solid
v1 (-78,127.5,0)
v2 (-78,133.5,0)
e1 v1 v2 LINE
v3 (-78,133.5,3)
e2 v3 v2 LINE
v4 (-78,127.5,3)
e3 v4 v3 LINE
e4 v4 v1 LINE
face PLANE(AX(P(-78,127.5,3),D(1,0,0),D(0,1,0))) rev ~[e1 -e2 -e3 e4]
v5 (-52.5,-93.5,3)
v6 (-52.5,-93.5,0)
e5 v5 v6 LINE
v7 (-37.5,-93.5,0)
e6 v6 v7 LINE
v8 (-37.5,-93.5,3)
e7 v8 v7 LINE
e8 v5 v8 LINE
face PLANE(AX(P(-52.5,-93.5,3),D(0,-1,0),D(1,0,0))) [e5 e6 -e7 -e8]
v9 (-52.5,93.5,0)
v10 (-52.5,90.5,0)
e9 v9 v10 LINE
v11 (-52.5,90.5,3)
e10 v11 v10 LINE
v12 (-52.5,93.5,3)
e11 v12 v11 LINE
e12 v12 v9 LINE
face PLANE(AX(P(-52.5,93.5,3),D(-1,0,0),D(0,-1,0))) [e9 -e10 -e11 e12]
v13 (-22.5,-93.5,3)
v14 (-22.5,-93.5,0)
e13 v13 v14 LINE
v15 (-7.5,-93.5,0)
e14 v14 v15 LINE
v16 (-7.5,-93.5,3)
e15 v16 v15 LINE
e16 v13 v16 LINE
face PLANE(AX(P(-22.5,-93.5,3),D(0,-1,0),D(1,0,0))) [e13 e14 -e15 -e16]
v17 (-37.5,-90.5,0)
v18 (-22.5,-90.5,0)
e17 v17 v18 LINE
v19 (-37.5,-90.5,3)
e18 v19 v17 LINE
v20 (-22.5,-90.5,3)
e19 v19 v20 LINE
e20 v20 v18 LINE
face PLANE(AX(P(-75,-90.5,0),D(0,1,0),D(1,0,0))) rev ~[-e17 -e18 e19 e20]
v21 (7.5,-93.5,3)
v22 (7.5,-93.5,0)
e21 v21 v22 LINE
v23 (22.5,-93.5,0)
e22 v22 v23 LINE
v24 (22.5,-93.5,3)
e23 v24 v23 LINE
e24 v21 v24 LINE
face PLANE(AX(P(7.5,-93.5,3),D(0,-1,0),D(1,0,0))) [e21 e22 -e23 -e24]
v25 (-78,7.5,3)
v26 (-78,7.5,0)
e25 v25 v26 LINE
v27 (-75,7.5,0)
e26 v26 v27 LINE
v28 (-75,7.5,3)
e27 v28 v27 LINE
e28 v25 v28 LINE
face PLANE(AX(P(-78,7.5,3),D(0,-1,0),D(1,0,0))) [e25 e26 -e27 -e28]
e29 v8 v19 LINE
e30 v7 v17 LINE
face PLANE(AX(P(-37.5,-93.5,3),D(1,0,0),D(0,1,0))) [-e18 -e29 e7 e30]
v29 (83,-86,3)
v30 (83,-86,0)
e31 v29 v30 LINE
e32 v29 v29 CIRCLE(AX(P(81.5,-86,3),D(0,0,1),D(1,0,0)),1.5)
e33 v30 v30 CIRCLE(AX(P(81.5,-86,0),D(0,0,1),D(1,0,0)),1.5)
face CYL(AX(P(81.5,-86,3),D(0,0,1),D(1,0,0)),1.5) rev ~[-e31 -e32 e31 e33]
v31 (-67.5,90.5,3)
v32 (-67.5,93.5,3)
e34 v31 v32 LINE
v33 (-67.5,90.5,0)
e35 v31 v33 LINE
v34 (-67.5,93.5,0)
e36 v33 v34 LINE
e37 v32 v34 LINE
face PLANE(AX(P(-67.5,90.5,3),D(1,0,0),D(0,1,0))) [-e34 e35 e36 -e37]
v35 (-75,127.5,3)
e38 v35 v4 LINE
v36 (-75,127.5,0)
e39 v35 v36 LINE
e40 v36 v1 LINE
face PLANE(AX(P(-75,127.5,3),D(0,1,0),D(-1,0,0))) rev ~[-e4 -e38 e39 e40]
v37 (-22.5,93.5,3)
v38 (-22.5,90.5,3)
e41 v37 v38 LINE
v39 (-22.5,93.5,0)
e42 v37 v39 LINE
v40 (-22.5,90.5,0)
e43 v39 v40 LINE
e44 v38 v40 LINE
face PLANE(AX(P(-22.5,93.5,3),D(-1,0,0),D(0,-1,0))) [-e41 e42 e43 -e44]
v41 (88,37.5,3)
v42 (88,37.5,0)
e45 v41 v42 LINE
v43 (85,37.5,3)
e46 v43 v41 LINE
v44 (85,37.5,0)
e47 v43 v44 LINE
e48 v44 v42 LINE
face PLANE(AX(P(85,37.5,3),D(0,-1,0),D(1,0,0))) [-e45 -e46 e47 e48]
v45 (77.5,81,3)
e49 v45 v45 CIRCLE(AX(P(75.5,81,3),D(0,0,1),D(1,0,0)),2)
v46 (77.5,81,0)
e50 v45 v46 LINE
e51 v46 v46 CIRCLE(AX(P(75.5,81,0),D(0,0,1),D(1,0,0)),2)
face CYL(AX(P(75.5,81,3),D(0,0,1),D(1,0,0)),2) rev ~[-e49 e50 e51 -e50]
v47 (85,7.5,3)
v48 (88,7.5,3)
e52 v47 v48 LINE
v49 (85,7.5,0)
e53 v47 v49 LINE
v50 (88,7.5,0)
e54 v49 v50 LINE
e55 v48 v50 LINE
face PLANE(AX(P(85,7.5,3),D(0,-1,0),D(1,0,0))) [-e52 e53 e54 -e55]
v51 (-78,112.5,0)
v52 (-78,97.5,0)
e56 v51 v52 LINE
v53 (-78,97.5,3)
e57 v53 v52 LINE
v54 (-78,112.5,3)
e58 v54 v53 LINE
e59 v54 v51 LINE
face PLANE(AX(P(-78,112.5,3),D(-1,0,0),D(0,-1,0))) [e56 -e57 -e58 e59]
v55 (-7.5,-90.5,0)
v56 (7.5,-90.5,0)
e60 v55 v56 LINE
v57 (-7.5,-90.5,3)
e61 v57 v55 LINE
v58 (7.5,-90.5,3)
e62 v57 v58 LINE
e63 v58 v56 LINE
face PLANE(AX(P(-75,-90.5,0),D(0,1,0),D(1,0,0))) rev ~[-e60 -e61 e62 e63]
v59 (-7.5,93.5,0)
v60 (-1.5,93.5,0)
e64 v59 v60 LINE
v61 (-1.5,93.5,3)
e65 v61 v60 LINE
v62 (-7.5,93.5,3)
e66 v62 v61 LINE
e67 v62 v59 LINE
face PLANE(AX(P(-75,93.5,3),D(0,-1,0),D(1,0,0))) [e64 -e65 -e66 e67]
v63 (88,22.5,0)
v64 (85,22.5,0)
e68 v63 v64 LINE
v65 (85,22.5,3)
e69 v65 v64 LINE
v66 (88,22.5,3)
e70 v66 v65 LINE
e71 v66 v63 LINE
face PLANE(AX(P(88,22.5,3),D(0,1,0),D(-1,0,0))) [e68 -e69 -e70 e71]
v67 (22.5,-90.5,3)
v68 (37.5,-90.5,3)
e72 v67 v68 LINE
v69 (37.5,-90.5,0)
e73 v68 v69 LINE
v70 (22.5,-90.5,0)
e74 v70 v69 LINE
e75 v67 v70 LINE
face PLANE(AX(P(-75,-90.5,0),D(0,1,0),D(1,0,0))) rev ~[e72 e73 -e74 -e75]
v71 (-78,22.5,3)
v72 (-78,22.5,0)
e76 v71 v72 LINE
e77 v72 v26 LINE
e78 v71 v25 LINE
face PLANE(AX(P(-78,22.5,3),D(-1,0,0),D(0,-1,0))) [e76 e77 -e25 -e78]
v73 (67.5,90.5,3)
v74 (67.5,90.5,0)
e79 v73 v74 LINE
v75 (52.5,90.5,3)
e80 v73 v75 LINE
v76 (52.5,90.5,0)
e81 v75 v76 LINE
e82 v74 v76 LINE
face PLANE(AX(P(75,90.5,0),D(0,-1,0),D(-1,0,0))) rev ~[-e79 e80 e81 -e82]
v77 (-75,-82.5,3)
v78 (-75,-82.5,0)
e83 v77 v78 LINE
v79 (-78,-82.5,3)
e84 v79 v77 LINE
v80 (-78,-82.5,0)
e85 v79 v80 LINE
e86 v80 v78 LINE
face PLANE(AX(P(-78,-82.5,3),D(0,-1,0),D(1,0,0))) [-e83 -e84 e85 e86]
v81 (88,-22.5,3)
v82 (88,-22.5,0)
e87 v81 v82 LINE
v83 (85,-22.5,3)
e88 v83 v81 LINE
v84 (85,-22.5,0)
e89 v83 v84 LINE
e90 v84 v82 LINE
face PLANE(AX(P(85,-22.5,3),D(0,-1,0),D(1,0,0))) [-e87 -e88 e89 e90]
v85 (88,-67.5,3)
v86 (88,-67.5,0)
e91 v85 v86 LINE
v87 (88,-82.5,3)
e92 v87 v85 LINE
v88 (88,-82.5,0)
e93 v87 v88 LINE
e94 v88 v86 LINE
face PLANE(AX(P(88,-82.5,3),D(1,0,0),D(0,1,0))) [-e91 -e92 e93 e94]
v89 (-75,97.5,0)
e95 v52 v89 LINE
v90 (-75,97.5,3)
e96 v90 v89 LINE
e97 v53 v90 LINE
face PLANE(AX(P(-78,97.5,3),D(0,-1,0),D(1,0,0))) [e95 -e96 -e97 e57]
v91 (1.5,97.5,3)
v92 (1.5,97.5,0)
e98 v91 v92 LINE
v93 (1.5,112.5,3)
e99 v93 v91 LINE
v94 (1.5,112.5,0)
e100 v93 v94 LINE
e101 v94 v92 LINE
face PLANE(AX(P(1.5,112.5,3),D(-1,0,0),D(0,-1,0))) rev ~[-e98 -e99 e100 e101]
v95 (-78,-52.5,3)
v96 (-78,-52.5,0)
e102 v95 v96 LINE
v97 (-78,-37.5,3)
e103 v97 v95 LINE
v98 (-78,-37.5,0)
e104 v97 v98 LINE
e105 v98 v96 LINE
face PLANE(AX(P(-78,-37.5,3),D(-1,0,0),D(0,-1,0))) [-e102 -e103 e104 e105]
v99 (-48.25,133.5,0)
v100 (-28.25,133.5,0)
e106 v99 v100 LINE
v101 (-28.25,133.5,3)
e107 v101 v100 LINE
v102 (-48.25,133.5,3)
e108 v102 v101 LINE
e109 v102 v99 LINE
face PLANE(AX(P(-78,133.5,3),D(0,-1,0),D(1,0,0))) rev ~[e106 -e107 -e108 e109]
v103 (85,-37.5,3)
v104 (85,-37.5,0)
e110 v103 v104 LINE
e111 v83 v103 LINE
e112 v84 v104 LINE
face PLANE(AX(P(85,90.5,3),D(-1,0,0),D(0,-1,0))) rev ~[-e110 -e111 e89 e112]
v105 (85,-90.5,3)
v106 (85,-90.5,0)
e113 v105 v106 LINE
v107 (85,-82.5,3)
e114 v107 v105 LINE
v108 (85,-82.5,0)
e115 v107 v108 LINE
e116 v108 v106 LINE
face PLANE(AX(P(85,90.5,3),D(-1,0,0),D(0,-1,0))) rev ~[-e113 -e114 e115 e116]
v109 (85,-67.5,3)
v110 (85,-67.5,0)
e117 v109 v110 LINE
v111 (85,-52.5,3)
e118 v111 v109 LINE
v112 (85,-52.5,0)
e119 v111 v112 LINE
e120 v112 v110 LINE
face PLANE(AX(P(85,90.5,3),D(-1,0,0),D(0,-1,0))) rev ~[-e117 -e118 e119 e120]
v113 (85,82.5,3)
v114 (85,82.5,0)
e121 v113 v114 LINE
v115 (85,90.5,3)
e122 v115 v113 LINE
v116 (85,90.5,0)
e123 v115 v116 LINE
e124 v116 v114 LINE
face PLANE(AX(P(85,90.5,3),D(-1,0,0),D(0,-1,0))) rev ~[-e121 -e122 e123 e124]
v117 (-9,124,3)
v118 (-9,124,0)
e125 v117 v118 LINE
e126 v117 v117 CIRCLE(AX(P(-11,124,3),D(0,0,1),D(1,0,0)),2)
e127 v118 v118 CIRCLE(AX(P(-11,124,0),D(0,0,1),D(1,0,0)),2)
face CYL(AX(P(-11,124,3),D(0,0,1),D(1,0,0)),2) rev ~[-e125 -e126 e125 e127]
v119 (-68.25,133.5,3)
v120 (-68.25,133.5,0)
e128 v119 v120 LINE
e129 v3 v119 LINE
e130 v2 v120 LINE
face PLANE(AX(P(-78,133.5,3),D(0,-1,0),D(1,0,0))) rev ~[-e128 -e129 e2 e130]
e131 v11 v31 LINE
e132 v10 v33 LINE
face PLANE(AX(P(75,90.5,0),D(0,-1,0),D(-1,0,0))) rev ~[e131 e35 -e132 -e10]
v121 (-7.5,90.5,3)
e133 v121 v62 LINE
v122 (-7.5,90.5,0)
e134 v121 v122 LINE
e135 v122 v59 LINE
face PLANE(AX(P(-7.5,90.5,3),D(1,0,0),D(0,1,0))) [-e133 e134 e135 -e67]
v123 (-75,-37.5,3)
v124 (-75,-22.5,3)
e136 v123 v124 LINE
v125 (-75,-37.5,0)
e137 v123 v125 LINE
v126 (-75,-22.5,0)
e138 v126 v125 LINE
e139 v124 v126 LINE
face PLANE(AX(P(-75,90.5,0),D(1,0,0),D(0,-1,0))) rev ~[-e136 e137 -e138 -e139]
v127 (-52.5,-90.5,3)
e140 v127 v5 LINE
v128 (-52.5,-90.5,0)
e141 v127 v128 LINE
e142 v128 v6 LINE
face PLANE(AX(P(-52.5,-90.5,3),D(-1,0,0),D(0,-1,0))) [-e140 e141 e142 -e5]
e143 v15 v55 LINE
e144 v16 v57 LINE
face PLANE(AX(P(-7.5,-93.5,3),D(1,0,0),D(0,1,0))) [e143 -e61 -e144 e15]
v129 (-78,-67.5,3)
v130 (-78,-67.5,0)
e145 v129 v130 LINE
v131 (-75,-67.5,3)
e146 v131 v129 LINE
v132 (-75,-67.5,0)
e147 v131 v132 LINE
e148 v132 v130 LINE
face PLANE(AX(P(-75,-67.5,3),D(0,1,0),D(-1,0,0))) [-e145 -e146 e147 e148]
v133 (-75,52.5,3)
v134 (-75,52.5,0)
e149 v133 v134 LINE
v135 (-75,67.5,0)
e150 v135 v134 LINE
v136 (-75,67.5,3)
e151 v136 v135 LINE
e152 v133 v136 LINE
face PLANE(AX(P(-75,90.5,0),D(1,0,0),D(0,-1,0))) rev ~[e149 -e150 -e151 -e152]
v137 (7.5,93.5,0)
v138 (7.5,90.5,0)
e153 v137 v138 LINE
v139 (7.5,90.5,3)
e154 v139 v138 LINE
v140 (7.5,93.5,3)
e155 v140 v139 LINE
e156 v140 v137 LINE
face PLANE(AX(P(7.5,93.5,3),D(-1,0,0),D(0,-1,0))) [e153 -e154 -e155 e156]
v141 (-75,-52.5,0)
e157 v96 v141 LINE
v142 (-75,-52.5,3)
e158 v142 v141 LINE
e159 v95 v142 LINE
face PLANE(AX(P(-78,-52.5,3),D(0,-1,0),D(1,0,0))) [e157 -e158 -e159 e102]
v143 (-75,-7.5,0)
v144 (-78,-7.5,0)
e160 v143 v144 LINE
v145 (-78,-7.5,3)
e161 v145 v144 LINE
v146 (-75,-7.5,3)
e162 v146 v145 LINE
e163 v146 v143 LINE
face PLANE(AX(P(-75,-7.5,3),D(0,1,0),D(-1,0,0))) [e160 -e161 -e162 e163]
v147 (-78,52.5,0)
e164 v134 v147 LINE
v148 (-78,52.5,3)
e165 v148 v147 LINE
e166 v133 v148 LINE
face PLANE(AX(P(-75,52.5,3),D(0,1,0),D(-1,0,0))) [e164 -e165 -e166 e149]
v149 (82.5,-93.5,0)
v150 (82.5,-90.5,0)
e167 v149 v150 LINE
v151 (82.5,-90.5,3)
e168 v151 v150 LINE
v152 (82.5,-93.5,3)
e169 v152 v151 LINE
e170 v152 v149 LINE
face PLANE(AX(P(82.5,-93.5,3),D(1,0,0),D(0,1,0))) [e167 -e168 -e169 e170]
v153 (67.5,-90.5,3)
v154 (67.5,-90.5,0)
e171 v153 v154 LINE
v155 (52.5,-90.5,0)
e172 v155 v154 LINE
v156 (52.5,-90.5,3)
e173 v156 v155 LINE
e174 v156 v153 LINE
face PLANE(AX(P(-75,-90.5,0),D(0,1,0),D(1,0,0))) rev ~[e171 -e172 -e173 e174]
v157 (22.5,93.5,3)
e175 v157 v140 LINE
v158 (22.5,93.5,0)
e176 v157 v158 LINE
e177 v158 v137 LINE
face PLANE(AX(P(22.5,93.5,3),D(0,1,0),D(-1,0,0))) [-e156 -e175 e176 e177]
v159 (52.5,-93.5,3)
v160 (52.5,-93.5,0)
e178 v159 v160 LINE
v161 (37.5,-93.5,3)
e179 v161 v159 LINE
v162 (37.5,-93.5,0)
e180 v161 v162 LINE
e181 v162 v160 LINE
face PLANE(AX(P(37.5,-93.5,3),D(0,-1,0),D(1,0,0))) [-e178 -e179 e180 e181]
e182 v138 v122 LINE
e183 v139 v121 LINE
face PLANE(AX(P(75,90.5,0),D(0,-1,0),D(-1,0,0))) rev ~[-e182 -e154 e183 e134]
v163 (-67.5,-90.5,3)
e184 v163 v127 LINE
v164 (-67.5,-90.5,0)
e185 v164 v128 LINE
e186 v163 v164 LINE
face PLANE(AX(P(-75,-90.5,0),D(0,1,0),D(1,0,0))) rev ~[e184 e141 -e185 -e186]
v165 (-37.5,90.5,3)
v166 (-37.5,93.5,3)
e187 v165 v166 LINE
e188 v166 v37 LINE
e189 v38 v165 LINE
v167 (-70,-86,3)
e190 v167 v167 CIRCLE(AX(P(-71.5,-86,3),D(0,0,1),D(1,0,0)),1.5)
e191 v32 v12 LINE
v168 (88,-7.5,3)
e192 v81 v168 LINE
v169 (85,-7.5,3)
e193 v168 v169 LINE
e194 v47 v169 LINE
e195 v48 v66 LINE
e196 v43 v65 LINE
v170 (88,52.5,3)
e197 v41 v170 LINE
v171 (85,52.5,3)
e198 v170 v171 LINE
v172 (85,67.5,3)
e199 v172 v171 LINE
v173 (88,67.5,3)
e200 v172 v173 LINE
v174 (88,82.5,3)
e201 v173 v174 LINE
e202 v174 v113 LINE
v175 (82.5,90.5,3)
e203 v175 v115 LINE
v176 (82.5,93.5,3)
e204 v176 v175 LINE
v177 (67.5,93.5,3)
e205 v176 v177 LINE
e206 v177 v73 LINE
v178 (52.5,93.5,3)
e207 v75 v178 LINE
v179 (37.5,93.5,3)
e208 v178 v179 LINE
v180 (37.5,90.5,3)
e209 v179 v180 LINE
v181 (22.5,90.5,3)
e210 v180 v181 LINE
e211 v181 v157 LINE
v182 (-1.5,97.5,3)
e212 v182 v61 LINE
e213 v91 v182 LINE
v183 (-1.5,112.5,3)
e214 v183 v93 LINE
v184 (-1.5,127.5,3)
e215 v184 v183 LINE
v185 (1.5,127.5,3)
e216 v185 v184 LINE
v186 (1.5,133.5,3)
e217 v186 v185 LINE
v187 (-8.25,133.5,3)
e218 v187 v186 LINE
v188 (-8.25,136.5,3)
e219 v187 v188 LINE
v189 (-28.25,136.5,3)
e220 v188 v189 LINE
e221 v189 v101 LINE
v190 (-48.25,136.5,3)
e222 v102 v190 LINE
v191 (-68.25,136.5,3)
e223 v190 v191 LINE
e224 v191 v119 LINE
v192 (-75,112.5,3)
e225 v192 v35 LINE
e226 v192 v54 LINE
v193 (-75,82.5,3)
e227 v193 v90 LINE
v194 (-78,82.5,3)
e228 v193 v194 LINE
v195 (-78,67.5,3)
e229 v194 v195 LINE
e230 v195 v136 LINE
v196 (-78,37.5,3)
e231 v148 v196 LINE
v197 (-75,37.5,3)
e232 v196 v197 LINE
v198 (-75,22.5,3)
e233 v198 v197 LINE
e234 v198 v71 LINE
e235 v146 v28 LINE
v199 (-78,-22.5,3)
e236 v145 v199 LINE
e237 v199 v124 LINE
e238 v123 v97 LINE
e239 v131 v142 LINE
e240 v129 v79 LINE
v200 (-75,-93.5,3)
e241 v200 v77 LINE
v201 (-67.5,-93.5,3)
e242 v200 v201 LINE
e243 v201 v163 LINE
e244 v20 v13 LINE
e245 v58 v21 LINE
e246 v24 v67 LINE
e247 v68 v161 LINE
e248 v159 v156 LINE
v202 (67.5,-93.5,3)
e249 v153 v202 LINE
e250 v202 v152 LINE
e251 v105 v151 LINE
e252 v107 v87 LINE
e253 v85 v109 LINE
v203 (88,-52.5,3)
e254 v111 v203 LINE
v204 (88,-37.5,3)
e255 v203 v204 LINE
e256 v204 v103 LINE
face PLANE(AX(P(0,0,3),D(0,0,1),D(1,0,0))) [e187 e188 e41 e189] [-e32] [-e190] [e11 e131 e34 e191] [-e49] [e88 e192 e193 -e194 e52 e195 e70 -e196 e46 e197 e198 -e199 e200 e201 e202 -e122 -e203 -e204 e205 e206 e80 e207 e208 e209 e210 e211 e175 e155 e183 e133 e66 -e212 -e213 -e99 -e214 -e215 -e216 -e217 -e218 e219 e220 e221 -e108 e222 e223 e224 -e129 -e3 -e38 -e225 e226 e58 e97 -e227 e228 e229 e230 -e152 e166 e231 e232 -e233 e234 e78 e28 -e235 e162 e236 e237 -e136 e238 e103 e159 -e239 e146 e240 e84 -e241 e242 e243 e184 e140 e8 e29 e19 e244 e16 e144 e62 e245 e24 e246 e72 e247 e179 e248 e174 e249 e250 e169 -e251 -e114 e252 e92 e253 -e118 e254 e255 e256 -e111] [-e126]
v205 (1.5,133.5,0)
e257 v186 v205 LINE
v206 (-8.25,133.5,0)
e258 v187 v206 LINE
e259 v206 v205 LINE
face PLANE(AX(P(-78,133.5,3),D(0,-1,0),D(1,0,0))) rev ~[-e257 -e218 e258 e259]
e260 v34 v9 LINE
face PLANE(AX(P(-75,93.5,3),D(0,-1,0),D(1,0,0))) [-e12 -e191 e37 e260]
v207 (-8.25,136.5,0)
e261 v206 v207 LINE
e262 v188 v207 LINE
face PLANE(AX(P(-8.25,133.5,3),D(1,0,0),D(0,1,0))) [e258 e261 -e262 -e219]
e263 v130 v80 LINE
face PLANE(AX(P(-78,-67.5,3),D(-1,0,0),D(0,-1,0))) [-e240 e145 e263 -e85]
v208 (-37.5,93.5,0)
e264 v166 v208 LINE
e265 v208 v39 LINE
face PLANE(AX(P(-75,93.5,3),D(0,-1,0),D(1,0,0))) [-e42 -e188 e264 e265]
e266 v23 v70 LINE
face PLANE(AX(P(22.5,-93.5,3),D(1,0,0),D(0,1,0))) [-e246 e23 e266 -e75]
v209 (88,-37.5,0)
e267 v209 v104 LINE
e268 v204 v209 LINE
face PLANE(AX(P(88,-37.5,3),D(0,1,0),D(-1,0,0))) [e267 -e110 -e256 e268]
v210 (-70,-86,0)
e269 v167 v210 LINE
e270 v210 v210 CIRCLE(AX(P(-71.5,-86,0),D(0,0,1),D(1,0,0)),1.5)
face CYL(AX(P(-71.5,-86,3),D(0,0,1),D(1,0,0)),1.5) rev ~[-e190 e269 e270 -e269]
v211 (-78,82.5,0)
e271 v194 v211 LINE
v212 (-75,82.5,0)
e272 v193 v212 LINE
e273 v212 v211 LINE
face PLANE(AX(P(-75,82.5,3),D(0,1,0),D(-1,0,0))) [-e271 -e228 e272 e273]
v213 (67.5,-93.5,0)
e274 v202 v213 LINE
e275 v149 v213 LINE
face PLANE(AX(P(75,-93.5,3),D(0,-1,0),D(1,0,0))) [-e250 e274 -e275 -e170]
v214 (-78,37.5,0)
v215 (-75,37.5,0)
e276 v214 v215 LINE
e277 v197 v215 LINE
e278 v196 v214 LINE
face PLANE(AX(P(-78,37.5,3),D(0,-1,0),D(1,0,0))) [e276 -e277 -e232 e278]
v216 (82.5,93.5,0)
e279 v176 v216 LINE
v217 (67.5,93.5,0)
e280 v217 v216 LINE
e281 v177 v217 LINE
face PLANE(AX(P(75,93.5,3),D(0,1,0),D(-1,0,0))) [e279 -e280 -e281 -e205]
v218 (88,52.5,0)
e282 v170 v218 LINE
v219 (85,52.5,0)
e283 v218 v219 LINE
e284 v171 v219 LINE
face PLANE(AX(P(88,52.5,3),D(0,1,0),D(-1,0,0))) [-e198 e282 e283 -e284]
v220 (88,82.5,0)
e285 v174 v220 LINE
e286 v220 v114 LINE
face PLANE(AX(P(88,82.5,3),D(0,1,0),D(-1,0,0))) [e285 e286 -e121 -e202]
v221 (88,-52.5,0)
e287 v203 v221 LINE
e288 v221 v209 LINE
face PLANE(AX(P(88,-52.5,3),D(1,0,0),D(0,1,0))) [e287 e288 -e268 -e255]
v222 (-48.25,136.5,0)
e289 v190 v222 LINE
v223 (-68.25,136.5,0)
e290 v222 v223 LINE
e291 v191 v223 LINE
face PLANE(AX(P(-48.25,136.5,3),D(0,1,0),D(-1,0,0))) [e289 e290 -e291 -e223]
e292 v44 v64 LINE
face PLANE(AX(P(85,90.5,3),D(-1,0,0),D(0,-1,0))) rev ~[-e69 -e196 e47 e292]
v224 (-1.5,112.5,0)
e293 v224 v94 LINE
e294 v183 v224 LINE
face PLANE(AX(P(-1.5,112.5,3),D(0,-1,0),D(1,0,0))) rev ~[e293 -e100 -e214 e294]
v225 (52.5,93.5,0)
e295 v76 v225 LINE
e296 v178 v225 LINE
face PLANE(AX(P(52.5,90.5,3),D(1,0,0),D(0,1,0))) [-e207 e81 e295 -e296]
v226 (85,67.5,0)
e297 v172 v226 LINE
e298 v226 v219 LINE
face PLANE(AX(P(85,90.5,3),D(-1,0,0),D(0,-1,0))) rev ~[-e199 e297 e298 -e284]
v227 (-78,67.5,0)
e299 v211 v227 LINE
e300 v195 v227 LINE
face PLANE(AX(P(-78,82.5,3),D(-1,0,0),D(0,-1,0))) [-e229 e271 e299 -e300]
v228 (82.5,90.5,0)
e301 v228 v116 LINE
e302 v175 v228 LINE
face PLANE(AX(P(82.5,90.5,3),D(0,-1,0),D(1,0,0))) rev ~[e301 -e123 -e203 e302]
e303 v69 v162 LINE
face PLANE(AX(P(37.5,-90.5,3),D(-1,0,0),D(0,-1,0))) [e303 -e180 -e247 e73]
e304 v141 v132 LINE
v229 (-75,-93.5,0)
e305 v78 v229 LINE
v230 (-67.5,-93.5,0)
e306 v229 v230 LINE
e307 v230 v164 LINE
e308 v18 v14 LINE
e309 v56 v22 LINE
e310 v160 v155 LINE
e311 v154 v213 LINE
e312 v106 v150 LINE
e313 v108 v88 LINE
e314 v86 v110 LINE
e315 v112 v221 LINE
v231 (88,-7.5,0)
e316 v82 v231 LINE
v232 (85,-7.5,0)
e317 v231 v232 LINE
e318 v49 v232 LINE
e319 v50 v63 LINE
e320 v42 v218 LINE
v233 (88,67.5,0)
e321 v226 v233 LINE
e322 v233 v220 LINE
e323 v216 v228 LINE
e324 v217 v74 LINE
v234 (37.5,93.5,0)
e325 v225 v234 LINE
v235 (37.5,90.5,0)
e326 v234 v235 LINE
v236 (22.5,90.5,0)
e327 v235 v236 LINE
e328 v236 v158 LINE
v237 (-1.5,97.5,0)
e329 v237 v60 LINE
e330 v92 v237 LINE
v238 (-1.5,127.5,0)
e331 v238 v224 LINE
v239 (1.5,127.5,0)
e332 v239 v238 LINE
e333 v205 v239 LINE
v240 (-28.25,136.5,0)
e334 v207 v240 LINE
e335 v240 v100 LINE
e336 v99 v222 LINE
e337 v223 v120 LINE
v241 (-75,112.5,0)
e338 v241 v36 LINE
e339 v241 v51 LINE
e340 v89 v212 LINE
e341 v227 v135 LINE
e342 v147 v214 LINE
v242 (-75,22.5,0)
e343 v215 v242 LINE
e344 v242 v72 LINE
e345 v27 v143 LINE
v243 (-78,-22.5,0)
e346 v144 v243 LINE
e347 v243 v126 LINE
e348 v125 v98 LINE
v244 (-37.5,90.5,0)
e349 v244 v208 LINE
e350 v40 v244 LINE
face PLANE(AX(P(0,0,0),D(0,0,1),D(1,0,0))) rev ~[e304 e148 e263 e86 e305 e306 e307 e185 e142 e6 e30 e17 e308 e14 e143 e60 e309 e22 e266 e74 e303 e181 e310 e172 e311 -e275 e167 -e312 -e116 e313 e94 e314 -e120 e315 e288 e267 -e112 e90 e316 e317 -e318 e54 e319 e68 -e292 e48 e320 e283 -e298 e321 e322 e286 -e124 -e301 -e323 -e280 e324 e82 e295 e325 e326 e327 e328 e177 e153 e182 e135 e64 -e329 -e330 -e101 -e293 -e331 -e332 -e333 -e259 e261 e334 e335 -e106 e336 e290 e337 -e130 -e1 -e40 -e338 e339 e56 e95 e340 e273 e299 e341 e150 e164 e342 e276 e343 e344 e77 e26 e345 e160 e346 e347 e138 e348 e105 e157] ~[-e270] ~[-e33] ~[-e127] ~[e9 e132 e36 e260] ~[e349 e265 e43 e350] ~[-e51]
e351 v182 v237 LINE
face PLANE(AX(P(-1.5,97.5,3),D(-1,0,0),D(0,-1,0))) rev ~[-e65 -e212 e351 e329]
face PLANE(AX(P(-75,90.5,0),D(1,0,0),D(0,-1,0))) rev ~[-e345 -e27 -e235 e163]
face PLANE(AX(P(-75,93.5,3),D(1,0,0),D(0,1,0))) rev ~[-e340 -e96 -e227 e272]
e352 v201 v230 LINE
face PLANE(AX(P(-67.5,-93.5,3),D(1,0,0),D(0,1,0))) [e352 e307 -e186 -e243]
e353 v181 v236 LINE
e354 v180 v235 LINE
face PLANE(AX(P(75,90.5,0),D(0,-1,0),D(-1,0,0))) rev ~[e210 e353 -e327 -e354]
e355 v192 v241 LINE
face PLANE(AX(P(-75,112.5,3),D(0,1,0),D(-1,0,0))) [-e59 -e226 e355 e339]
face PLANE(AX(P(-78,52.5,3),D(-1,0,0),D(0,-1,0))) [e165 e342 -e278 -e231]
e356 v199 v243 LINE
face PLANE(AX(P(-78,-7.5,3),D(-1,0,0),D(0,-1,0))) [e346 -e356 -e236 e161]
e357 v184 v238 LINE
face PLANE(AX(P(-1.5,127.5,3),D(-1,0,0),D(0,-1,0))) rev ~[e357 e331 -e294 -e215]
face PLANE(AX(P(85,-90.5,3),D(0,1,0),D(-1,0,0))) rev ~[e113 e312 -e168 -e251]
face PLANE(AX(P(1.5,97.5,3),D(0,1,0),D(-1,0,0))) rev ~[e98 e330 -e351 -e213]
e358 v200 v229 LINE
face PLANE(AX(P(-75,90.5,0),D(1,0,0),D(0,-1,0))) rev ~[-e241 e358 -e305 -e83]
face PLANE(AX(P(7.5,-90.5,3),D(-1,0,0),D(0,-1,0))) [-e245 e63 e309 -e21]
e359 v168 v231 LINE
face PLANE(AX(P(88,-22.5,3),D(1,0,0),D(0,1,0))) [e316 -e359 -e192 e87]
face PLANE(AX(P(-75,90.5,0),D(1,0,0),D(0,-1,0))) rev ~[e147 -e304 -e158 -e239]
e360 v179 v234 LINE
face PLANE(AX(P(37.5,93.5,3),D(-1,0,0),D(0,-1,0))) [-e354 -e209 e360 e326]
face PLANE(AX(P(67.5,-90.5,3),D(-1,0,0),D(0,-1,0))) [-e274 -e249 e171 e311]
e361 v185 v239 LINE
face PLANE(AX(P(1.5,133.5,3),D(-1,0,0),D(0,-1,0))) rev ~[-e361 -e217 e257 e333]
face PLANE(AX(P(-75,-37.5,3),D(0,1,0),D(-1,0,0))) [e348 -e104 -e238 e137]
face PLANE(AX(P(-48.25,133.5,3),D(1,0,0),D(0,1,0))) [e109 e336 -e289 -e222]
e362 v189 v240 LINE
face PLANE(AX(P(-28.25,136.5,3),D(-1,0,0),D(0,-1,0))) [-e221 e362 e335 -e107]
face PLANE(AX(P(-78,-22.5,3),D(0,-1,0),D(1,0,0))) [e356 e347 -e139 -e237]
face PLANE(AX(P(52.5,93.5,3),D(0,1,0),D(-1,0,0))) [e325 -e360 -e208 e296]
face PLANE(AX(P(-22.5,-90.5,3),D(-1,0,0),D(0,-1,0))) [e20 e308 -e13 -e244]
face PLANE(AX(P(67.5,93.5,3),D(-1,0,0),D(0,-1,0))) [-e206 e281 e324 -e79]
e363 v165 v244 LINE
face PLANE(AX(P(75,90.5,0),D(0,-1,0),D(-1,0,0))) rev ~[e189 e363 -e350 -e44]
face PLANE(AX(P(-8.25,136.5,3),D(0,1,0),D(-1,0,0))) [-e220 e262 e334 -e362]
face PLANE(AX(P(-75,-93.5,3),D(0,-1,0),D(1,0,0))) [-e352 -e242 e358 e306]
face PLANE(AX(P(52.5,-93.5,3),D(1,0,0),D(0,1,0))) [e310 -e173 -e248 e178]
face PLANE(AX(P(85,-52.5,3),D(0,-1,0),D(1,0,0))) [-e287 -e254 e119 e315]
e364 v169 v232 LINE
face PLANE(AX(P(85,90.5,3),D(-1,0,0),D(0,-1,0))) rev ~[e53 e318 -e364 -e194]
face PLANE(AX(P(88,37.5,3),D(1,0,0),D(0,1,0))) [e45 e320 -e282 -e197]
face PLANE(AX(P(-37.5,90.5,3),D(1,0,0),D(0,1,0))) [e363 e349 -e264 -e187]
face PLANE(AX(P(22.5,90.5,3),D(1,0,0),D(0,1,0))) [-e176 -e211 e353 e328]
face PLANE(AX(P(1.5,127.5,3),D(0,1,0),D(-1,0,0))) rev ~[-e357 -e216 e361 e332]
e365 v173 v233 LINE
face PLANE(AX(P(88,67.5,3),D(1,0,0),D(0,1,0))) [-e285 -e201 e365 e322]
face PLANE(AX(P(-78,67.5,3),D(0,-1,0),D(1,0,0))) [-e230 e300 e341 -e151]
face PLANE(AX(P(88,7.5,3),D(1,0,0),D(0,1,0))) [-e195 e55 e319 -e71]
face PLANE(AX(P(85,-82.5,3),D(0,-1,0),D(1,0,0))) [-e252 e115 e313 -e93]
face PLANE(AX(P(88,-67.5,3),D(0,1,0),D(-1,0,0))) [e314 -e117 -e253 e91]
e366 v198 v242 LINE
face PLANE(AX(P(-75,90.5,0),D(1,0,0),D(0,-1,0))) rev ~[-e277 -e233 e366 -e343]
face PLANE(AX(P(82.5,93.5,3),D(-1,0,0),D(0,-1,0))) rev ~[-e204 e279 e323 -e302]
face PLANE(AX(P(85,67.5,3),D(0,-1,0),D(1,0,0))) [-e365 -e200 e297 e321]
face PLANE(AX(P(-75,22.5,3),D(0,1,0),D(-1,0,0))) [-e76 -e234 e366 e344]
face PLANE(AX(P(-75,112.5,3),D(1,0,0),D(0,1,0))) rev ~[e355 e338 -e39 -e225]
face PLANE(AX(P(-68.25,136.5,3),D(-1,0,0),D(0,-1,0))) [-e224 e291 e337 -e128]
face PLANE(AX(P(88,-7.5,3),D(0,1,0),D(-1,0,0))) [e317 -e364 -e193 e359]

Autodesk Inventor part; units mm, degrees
ref_plane "YZ Plane" through (0, 0, 0) normal (1, 0, 0) x (0, 1, 0)
ref_plane "XZ Plane" through (0, 0, 0) normal (0, 1, 0) x (-1, 0, 0)
ref_plane "XY Plane" through (0, 0, 0) normal (0, 0, 1) x (1, 0, 0)
sketch "Sketch1" plane through (0, 0, 0) normal (0, 0, 1) x (1, 0, 0)
  line L0 (-75, -90.5) -> (75, -90.5)
  line L1 (75, -90.5) -> (75, 90.5)
  line L2 (75, 90.5) -> (-75, 90.5)
  line L3 (-75, 90.5) -> (-75, -90.5)
  line L4 (-75, -90.5) -> (75, 90.5) construction
  line L5 (75, -90.5) -> (-75, 90.5) construction
  point P0 (0, 0)
  dimension "d0" = 150
  dimension "d1" = 181
extrude "Extrusion1" add sketch "Sketch1" along normal blind 3
sketch "Sketch2" plane through (0, 0, 3) normal (0, 0, 1) x (1, 0, 0)
  line L0 (75, 90.5) -> (-75, 90.5) projected
  line L1 (-75, 90.5) -> (-67.5, 90.5)
  line L2 (-67.5, 90.5) -> (-67.5, 93.5)
  line L3 (-67.5, 93.5) -> (-75, 93.5)
  line L4 (-75, 93.5) -> (-75, 90.5)
  line L5 (67.5, 90.5) -> (75, 90.5)
  line L6 (75, 90.5) -> (75, 93.5)
  line L7 (75, 93.5) -> (67.5, 93.5)
  line L8 (67.5, 93.5) -> (67.5, 90.5)
  line L9 (-75, -93.5) -> (-67.5, -93.5)
  line L10 (-67.5, -93.5) -> (-67.5, -90.5)
  line L11 (-67.5, -90.5) -> (-75, -90.5)
  line L12 (-75, -90.5) -> (-75, -93.5)
  line L13 (67.5, -93.5) -> (75, -93.5)
  line L14 (75, -93.5) -> (75, -90.5)
  line L15 (75, -90.5) -> (67.5, -90.5)
  line L16 (67.5, -90.5) -> (67.5, -93.5)
  line L17 (-52.5, 90.5) -> (-37.5, 90.5)
  line L18 (-37.5, 90.5) -> (-37.5, 93.5)
  line L19 (-37.5, 93.5) -> (-52.5, 93.5)
  line L20 (-52.5, 93.5) -> (-52.5, 90.5)
  line L21 (-22.5, 90.5) -> (-7.5, 90.5)
  line L22 (-7.5, 93.5) -> (-22.5, 93.5)
  line L23 (-22.5, 93.5) -> (-22.5, 90.5)
  line L24 (-7.5, 90.5) -> (-7.5, 93.5)
  line L25 (7.5, 90.5) -> (22.5, 90.5)
  line L26 (22.5, 93.5) -> (7.5, 93.5)
  line L27 (7.5, 93.5) -> (7.5, 90.5)
  line L28 (22.5, 90.5) -> (22.5, 93.5)
  line L29 (37.5, 90.5) -> (52.5, 90.5)
  line L30 (52.5, 93.5) -> (37.5, 93.5)
  line L31 (37.5, 93.5) -> (37.5, 90.5)
  line L32 (52.5, 90.5) -> (52.5, 93.5)
  line L33 (-52.5, -93.5) -> (-37.5, -93.5)
  line L34 (-37.5, -90.5) -> (-52.5, -90.5)
  line L35 (-52.5, -90.5) -> (-52.5, -93.5)
  line L36 (-37.5, -93.5) -> (-37.5, -90.5)
  line L37 (-22.5, -93.5) -> (-7.5, -93.5)
  line L38 (-7.5, -90.5) -> (-22.5, -90.5)
  line L39 (-22.5, -90.5) -> (-22.5, -93.5)
  line L40 (-7.5, -93.5) -> (-7.5, -90.5)
  line L41 (7.5, -93.5) -> (22.5, -93.5)
  line L42 (22.5, -90.5) -> (7.5, -90.5)
  line L43 (7.5, -90.5) -> (7.5, -93.5)
  line L44 (22.5, -93.5) -> (22.5, -90.5)
  line L45 (37.5, -93.5) -> (52.5, -93.5)
  line L46 (52.5, -90.5) -> (37.5, -90.5)
  line L47 (37.5, -90.5) -> (37.5, -93.5)
  line L48 (52.5, -93.5) -> (52.5, -90.5)
  point P0 (0, 0)
  dimension "d4" = 7.5
  dimension "d5" = 3
  dimension "d8" = 142.5
  dimension "d11" = 184
  dimension "d14" = 15
  dimension "d15" = 3
  dimension "d16" = 15
  dimension "d19" = 30
  dimension "d22" = 184
extrude "Extrusion2" add sketch "Sketch2" against normal blind 3
sketch "Sketch3" plane through (0, 0, 3) normal (0, 0, 1) x (1, 0, 0)
  line L0 (-75, 93.5) -> (-75, -93.5) projected
  line L1 (-75, 82.5) -> (-78, 82.5)
  line L2 (-78, 82.5) -> (-78, 67.5)
  line L3 (-78, 67.5) -> (-75, 67.5)
  line L4 (-75, 67.5) -> (-75, 82.5)
  line L5 (-75, 52.5) -> (-78, 52.5)
  line L6 (-78, 52.5) -> (-78, 37.5)
  line L7 (-78, 37.5) -> (-75, 37.5)
  line L8 (-75, 37.5) -> (-75, 52.5)
  line L9 (-75, 22.5) -> (-78, 22.5)
  line L10 (-78, 22.5) -> (-78, 7.5)
  line L11 (-78, 7.5) -> (-75, 7.5)
  line L12 (-75, 7.5) -> (-75, 22.5)
  line L13 (-75, -7.5) -> (-78, -7.5)
  line L14 (-78, -7.5) -> (-78, -22.5)
  line L15 (-78, -22.5) -> (-75, -22.5)
  line L16 (-75, -22.5) -> (-75, -7.5)
  line L17 (-75, -37.5) -> (-78, -37.5)
  line L18 (-78, -37.5) -> (-78, -52.5)
  line L19 (-78, -52.5) -> (-75, -52.5)
  line L20 (-75, -52.5) -> (-75, -37.5)
  line L21 (-75, -67.5) -> (-78, -67.5)
  line L22 (-78, -67.5) -> (-78, -82.5)
  line L23 (-78, -82.5) -> (-75, -82.5)
  line L24 (-75, -82.5) -> (-75, -67.5)
  line L25 (88, 82.5) -> (85, 82.5)
  line L26 (85, 82.5) -> (85, 67.5)
  line L27 (85, 67.5) -> (88, 67.5)
  line L28 (88, 67.5) -> (88, 82.5)
  line L29 (88, 52.5) -> (85, 52.5)
  line L30 (85, 52.5) -> (85, 37.5)
  line L31 (85, 37.5) -> (88, 37.5)
  line L32 (88, 37.5) -> (88, 52.5)
  line L33 (88, 22.5) -> (85, 22.5)
  line L34 (85, 22.5) -> (85, 7.5)
  line L35 (85, 7.5) -> (88, 7.5)
  line L36 (88, 7.5) -> (88, 22.5)
  line L37 (88, -7.5) -> (85, -7.5)
  line L38 (85, -7.5) -> (85, -22.5)
  line L39 (85, -22.5) -> (88, -22.5)
  line L40 (88, -22.5) -> (88, -7.5)
  line L41 (88, -37.5) -> (85, -37.5)
  line L42 (85, -37.5) -> (85, -52.5)
  line L43 (85, -52.5) -> (88, -52.5)
  line L44 (88, -52.5) -> (88, -37.5)
  line L45 (88, -67.5) -> (85, -67.5)
  line L46 (85, -67.5) -> (85, -82.5)
  line L47 (85, -82.5) -> (88, -82.5)
  line L48 (88, -82.5) -> (88, -67.5)
  point P0 (0, 0)
  dimension "d27" = 3
  dimension "d28" = 15
  dimension "d29" = 11
  dimension "d32" = 30
  dimension "d35" = 163
extrude "Extrusion3" add sketch "Sketch3" against normal blind 3
sketch "Sketch7" plane through (0, 0, 3) normal (0, 0, 1) x (1, 0, 0)
  line L0 (-75, 93.5) -> (-75, 82.5) projected
  line L1 (-75, 93.5) -> (-1.5, 93.5)
  line L2 (-78, 82.5) -> (-78, 97.5) construction
  line L3 (-78, 97.5) -> (-75, 97.5)
  line L4 (-75, 112.5) -> (-78, 112.5)
  line L5 (-78, 112.5) -> (-78, 97.5)
  line L6 (-75, 93.5) -> (-75, 97.5)
  line L7 (-75, 112.5) -> (-75, 127.5)
  line L8 (-75, 127.5) -> (-78, 127.5)
  line L9 (-78, 127.5) -> (-78, 133.5)
  line L10 (-78, 133.5) -> (1.5, 133.5)
  line L11 (1.5, 133.5) -> (1.5, 93.5) construction
  line L12 (1.5, 133.5) -> (1.5, 127.5)
  line L13 (1.5, 127.5) -> (-1.5, 127.5)
  line L14 (-1.5, 127.5) -> (-1.5, 112.5)
  line L15 (-1.5, 112.5) -> (1.5, 112.5)
  line L16 (1.5, 112.5) -> (1.5, 97.5)
  line L17 (1.5, 97.5) -> (-1.5, 97.5)
  line L18 (-1.5, 97.5) -> (-1.5, 93.5)
  point P0 (0, 0)
  dimension "d135" = 15
  dimension "d136" = 3
  dimension "d137" = 15
  dimension "d138" = 15
  dimension "d139" = 3
  dimension "d140" = 3
  dimension "d141" = 15
  dimension "d142" = 15
  dimension "d143" = 76.5
  dimension "d144" = 34
  dimension "d145" = 40
  dimension "d146" = 0
extrude "Extrusion6" add sketch "Sketch7" against normal blind 3
sketch "Sketch9" plane through (0, 0, 3) normal (0, 0, 1) x (1, 0, 0)
  line L0 (1.5, 133.5) -> (-78, 133.5) projected
  line L1 (-68.25, 133.5) -> (-48.25, 133.5)
  line L2 (-48.25, 133.5) -> (-48.25, 136.5)
  line L3 (-48.25, 136.5) -> (-68.25, 136.5)
  line L4 (-68.25, 136.5) -> (-68.25, 133.5)
  line L5 (-28.25, 133.5) -> (-8.25, 133.5)
  line L6 (-8.25, 133.5) -> (-8.25, 136.5)
  line L7 (-8.25, 136.5) -> (-28.25, 136.5)
  line L8 (-28.25, 136.5) -> (-28.25, 133.5)
  line L9 (-78, 133.5) -> (-78, 127.5) projected
  point P0 (0, 0)
  dimension "d164" = 20
  dimension "d165" = 3
  dimension "d168" = 40
  dimension "d173" = 9.75
extrude "Extrusion9" add sketch "Sketch9" against normal blind 3
sketch "Sketch10" plane through (0, 0, 3) normal (0, 0, 1) x (1, 0, 0)
  line L0 (67.5, 93.5) -> (75, 93.5) projected
  line L1 (67.5, 93.5) -> (82.5, 93.5)
  line L2 (82.5, 93.5) -> (82.5, 90.5)
  line L3 (82.5, 90.5) -> (67.5, 90.5)
  line L4 (67.5, 90.5) -> (67.5, 93.5)
  line L5 (67.5, -93.5) -> (67.5, -90.5) projected
  line L6 (67.5, -93.5) -> (82.5, -93.5)
  line L7 (82.5, -93.5) -> (82.5, -90.5)
  line L8 (82.5, -90.5) -> (67.5, -90.5)
  line L9 (67.5, -90.5) -> (67.5, -93.5)
  line L10 (85, 90.5) -> (85, -90.5)
  line L11 (85, -90.5) -> (75, -90.5)
  line L12 (75, 93.5) -> (75, -93.5) projected
  line L13 (75, -90.5) -> (75, 90.5)
  line L14 (75, 90.5) -> (85, 90.5)
  point P0 (0, 0)
  dimension "d176" = 15
  dimension "d177" = 3
  dimension "d178" = 10
  dimension "d179" = 7.5
  dimension "d180" = 184
extrude "Extrusion10" add sketch "Sketch10" against normal blind 3
sketch "Sketch11" plane through (0, 0, 3) normal (0, 0, 1) x (1, 0, 0)
  circle A0 centre (-71.5, -86) radius 1.5
  circle A1 centre (81.5, -86) radius 1.5
  line L0 (88, -82.5) -> (88, -67.5) projected
  line L1 (67.5, -93.5) -> (82.5, -93.5) projected
  line L2 (-67.5, -93.5) -> (-75, -93.5) projected
  line L3 (-78, -67.5) -> (-78, -82.5) projected
  point P0 (0, 0)
  dimension "d183" = 3
  dimension "d184" = 3
  dimension "d185" = 6.5
  dimension "d186" = 7.5
  dimension "d187" = 7.5
  dimension "d188" = 6.5
extrude "Extrusion11" cut sketch "Sketch11" against normal blind 10
sketch "Sketch12" plane through (0, 0, 3) normal (0, 0, 1) x (1, 0, 0)
  circle A0 centre (75.5, 81) radius 2
  circle A1 centre (-11, 124) radius 2
  line L0 (-1.5, 112.5) -> (-1.5, 127.5) projected
  line L1 (1.5, 133.5) -> (-8.25, 133.5) projected
  line L2 (85, 82.5) -> (85, 90.5) projected
  line L3 (67.5, 90.5) -> (52.5, 90.5) projected
  point P0 (0, 0)
  dimension "d191" = 4
  dimension "d192" = 4
  dimension "d193" = 9.5
  dimension "d194" = 9.5
  dimension "d195" = 9.5
  dimension "d196" = 9.5
extrude "Extrusion12" cut sketch "Sketch12" against normal blind 10
equation "\"d187\" = d186"
equation "\"d188\" = d185"
equation "\"BendRadius\" = Thickness"
equation "\"BendReliefWidth\" = Thickness"
equation "\"BendReliefDepth\" = 0.5 * Thickness"
equation "\"CornerReliefSize\" = 4 * Thickness"
equation "\"MinimumRemnant\" = 2 * Thickness"
equation "\"TransitionRadius\" = BendRadius"
equation "\"JacobiRadiusSize\" = BendRadius"
equation "\"GapSize\" = Thickness"
equation "\"Thickness\" = 0.5"
properties part number "8 zijplaat"
